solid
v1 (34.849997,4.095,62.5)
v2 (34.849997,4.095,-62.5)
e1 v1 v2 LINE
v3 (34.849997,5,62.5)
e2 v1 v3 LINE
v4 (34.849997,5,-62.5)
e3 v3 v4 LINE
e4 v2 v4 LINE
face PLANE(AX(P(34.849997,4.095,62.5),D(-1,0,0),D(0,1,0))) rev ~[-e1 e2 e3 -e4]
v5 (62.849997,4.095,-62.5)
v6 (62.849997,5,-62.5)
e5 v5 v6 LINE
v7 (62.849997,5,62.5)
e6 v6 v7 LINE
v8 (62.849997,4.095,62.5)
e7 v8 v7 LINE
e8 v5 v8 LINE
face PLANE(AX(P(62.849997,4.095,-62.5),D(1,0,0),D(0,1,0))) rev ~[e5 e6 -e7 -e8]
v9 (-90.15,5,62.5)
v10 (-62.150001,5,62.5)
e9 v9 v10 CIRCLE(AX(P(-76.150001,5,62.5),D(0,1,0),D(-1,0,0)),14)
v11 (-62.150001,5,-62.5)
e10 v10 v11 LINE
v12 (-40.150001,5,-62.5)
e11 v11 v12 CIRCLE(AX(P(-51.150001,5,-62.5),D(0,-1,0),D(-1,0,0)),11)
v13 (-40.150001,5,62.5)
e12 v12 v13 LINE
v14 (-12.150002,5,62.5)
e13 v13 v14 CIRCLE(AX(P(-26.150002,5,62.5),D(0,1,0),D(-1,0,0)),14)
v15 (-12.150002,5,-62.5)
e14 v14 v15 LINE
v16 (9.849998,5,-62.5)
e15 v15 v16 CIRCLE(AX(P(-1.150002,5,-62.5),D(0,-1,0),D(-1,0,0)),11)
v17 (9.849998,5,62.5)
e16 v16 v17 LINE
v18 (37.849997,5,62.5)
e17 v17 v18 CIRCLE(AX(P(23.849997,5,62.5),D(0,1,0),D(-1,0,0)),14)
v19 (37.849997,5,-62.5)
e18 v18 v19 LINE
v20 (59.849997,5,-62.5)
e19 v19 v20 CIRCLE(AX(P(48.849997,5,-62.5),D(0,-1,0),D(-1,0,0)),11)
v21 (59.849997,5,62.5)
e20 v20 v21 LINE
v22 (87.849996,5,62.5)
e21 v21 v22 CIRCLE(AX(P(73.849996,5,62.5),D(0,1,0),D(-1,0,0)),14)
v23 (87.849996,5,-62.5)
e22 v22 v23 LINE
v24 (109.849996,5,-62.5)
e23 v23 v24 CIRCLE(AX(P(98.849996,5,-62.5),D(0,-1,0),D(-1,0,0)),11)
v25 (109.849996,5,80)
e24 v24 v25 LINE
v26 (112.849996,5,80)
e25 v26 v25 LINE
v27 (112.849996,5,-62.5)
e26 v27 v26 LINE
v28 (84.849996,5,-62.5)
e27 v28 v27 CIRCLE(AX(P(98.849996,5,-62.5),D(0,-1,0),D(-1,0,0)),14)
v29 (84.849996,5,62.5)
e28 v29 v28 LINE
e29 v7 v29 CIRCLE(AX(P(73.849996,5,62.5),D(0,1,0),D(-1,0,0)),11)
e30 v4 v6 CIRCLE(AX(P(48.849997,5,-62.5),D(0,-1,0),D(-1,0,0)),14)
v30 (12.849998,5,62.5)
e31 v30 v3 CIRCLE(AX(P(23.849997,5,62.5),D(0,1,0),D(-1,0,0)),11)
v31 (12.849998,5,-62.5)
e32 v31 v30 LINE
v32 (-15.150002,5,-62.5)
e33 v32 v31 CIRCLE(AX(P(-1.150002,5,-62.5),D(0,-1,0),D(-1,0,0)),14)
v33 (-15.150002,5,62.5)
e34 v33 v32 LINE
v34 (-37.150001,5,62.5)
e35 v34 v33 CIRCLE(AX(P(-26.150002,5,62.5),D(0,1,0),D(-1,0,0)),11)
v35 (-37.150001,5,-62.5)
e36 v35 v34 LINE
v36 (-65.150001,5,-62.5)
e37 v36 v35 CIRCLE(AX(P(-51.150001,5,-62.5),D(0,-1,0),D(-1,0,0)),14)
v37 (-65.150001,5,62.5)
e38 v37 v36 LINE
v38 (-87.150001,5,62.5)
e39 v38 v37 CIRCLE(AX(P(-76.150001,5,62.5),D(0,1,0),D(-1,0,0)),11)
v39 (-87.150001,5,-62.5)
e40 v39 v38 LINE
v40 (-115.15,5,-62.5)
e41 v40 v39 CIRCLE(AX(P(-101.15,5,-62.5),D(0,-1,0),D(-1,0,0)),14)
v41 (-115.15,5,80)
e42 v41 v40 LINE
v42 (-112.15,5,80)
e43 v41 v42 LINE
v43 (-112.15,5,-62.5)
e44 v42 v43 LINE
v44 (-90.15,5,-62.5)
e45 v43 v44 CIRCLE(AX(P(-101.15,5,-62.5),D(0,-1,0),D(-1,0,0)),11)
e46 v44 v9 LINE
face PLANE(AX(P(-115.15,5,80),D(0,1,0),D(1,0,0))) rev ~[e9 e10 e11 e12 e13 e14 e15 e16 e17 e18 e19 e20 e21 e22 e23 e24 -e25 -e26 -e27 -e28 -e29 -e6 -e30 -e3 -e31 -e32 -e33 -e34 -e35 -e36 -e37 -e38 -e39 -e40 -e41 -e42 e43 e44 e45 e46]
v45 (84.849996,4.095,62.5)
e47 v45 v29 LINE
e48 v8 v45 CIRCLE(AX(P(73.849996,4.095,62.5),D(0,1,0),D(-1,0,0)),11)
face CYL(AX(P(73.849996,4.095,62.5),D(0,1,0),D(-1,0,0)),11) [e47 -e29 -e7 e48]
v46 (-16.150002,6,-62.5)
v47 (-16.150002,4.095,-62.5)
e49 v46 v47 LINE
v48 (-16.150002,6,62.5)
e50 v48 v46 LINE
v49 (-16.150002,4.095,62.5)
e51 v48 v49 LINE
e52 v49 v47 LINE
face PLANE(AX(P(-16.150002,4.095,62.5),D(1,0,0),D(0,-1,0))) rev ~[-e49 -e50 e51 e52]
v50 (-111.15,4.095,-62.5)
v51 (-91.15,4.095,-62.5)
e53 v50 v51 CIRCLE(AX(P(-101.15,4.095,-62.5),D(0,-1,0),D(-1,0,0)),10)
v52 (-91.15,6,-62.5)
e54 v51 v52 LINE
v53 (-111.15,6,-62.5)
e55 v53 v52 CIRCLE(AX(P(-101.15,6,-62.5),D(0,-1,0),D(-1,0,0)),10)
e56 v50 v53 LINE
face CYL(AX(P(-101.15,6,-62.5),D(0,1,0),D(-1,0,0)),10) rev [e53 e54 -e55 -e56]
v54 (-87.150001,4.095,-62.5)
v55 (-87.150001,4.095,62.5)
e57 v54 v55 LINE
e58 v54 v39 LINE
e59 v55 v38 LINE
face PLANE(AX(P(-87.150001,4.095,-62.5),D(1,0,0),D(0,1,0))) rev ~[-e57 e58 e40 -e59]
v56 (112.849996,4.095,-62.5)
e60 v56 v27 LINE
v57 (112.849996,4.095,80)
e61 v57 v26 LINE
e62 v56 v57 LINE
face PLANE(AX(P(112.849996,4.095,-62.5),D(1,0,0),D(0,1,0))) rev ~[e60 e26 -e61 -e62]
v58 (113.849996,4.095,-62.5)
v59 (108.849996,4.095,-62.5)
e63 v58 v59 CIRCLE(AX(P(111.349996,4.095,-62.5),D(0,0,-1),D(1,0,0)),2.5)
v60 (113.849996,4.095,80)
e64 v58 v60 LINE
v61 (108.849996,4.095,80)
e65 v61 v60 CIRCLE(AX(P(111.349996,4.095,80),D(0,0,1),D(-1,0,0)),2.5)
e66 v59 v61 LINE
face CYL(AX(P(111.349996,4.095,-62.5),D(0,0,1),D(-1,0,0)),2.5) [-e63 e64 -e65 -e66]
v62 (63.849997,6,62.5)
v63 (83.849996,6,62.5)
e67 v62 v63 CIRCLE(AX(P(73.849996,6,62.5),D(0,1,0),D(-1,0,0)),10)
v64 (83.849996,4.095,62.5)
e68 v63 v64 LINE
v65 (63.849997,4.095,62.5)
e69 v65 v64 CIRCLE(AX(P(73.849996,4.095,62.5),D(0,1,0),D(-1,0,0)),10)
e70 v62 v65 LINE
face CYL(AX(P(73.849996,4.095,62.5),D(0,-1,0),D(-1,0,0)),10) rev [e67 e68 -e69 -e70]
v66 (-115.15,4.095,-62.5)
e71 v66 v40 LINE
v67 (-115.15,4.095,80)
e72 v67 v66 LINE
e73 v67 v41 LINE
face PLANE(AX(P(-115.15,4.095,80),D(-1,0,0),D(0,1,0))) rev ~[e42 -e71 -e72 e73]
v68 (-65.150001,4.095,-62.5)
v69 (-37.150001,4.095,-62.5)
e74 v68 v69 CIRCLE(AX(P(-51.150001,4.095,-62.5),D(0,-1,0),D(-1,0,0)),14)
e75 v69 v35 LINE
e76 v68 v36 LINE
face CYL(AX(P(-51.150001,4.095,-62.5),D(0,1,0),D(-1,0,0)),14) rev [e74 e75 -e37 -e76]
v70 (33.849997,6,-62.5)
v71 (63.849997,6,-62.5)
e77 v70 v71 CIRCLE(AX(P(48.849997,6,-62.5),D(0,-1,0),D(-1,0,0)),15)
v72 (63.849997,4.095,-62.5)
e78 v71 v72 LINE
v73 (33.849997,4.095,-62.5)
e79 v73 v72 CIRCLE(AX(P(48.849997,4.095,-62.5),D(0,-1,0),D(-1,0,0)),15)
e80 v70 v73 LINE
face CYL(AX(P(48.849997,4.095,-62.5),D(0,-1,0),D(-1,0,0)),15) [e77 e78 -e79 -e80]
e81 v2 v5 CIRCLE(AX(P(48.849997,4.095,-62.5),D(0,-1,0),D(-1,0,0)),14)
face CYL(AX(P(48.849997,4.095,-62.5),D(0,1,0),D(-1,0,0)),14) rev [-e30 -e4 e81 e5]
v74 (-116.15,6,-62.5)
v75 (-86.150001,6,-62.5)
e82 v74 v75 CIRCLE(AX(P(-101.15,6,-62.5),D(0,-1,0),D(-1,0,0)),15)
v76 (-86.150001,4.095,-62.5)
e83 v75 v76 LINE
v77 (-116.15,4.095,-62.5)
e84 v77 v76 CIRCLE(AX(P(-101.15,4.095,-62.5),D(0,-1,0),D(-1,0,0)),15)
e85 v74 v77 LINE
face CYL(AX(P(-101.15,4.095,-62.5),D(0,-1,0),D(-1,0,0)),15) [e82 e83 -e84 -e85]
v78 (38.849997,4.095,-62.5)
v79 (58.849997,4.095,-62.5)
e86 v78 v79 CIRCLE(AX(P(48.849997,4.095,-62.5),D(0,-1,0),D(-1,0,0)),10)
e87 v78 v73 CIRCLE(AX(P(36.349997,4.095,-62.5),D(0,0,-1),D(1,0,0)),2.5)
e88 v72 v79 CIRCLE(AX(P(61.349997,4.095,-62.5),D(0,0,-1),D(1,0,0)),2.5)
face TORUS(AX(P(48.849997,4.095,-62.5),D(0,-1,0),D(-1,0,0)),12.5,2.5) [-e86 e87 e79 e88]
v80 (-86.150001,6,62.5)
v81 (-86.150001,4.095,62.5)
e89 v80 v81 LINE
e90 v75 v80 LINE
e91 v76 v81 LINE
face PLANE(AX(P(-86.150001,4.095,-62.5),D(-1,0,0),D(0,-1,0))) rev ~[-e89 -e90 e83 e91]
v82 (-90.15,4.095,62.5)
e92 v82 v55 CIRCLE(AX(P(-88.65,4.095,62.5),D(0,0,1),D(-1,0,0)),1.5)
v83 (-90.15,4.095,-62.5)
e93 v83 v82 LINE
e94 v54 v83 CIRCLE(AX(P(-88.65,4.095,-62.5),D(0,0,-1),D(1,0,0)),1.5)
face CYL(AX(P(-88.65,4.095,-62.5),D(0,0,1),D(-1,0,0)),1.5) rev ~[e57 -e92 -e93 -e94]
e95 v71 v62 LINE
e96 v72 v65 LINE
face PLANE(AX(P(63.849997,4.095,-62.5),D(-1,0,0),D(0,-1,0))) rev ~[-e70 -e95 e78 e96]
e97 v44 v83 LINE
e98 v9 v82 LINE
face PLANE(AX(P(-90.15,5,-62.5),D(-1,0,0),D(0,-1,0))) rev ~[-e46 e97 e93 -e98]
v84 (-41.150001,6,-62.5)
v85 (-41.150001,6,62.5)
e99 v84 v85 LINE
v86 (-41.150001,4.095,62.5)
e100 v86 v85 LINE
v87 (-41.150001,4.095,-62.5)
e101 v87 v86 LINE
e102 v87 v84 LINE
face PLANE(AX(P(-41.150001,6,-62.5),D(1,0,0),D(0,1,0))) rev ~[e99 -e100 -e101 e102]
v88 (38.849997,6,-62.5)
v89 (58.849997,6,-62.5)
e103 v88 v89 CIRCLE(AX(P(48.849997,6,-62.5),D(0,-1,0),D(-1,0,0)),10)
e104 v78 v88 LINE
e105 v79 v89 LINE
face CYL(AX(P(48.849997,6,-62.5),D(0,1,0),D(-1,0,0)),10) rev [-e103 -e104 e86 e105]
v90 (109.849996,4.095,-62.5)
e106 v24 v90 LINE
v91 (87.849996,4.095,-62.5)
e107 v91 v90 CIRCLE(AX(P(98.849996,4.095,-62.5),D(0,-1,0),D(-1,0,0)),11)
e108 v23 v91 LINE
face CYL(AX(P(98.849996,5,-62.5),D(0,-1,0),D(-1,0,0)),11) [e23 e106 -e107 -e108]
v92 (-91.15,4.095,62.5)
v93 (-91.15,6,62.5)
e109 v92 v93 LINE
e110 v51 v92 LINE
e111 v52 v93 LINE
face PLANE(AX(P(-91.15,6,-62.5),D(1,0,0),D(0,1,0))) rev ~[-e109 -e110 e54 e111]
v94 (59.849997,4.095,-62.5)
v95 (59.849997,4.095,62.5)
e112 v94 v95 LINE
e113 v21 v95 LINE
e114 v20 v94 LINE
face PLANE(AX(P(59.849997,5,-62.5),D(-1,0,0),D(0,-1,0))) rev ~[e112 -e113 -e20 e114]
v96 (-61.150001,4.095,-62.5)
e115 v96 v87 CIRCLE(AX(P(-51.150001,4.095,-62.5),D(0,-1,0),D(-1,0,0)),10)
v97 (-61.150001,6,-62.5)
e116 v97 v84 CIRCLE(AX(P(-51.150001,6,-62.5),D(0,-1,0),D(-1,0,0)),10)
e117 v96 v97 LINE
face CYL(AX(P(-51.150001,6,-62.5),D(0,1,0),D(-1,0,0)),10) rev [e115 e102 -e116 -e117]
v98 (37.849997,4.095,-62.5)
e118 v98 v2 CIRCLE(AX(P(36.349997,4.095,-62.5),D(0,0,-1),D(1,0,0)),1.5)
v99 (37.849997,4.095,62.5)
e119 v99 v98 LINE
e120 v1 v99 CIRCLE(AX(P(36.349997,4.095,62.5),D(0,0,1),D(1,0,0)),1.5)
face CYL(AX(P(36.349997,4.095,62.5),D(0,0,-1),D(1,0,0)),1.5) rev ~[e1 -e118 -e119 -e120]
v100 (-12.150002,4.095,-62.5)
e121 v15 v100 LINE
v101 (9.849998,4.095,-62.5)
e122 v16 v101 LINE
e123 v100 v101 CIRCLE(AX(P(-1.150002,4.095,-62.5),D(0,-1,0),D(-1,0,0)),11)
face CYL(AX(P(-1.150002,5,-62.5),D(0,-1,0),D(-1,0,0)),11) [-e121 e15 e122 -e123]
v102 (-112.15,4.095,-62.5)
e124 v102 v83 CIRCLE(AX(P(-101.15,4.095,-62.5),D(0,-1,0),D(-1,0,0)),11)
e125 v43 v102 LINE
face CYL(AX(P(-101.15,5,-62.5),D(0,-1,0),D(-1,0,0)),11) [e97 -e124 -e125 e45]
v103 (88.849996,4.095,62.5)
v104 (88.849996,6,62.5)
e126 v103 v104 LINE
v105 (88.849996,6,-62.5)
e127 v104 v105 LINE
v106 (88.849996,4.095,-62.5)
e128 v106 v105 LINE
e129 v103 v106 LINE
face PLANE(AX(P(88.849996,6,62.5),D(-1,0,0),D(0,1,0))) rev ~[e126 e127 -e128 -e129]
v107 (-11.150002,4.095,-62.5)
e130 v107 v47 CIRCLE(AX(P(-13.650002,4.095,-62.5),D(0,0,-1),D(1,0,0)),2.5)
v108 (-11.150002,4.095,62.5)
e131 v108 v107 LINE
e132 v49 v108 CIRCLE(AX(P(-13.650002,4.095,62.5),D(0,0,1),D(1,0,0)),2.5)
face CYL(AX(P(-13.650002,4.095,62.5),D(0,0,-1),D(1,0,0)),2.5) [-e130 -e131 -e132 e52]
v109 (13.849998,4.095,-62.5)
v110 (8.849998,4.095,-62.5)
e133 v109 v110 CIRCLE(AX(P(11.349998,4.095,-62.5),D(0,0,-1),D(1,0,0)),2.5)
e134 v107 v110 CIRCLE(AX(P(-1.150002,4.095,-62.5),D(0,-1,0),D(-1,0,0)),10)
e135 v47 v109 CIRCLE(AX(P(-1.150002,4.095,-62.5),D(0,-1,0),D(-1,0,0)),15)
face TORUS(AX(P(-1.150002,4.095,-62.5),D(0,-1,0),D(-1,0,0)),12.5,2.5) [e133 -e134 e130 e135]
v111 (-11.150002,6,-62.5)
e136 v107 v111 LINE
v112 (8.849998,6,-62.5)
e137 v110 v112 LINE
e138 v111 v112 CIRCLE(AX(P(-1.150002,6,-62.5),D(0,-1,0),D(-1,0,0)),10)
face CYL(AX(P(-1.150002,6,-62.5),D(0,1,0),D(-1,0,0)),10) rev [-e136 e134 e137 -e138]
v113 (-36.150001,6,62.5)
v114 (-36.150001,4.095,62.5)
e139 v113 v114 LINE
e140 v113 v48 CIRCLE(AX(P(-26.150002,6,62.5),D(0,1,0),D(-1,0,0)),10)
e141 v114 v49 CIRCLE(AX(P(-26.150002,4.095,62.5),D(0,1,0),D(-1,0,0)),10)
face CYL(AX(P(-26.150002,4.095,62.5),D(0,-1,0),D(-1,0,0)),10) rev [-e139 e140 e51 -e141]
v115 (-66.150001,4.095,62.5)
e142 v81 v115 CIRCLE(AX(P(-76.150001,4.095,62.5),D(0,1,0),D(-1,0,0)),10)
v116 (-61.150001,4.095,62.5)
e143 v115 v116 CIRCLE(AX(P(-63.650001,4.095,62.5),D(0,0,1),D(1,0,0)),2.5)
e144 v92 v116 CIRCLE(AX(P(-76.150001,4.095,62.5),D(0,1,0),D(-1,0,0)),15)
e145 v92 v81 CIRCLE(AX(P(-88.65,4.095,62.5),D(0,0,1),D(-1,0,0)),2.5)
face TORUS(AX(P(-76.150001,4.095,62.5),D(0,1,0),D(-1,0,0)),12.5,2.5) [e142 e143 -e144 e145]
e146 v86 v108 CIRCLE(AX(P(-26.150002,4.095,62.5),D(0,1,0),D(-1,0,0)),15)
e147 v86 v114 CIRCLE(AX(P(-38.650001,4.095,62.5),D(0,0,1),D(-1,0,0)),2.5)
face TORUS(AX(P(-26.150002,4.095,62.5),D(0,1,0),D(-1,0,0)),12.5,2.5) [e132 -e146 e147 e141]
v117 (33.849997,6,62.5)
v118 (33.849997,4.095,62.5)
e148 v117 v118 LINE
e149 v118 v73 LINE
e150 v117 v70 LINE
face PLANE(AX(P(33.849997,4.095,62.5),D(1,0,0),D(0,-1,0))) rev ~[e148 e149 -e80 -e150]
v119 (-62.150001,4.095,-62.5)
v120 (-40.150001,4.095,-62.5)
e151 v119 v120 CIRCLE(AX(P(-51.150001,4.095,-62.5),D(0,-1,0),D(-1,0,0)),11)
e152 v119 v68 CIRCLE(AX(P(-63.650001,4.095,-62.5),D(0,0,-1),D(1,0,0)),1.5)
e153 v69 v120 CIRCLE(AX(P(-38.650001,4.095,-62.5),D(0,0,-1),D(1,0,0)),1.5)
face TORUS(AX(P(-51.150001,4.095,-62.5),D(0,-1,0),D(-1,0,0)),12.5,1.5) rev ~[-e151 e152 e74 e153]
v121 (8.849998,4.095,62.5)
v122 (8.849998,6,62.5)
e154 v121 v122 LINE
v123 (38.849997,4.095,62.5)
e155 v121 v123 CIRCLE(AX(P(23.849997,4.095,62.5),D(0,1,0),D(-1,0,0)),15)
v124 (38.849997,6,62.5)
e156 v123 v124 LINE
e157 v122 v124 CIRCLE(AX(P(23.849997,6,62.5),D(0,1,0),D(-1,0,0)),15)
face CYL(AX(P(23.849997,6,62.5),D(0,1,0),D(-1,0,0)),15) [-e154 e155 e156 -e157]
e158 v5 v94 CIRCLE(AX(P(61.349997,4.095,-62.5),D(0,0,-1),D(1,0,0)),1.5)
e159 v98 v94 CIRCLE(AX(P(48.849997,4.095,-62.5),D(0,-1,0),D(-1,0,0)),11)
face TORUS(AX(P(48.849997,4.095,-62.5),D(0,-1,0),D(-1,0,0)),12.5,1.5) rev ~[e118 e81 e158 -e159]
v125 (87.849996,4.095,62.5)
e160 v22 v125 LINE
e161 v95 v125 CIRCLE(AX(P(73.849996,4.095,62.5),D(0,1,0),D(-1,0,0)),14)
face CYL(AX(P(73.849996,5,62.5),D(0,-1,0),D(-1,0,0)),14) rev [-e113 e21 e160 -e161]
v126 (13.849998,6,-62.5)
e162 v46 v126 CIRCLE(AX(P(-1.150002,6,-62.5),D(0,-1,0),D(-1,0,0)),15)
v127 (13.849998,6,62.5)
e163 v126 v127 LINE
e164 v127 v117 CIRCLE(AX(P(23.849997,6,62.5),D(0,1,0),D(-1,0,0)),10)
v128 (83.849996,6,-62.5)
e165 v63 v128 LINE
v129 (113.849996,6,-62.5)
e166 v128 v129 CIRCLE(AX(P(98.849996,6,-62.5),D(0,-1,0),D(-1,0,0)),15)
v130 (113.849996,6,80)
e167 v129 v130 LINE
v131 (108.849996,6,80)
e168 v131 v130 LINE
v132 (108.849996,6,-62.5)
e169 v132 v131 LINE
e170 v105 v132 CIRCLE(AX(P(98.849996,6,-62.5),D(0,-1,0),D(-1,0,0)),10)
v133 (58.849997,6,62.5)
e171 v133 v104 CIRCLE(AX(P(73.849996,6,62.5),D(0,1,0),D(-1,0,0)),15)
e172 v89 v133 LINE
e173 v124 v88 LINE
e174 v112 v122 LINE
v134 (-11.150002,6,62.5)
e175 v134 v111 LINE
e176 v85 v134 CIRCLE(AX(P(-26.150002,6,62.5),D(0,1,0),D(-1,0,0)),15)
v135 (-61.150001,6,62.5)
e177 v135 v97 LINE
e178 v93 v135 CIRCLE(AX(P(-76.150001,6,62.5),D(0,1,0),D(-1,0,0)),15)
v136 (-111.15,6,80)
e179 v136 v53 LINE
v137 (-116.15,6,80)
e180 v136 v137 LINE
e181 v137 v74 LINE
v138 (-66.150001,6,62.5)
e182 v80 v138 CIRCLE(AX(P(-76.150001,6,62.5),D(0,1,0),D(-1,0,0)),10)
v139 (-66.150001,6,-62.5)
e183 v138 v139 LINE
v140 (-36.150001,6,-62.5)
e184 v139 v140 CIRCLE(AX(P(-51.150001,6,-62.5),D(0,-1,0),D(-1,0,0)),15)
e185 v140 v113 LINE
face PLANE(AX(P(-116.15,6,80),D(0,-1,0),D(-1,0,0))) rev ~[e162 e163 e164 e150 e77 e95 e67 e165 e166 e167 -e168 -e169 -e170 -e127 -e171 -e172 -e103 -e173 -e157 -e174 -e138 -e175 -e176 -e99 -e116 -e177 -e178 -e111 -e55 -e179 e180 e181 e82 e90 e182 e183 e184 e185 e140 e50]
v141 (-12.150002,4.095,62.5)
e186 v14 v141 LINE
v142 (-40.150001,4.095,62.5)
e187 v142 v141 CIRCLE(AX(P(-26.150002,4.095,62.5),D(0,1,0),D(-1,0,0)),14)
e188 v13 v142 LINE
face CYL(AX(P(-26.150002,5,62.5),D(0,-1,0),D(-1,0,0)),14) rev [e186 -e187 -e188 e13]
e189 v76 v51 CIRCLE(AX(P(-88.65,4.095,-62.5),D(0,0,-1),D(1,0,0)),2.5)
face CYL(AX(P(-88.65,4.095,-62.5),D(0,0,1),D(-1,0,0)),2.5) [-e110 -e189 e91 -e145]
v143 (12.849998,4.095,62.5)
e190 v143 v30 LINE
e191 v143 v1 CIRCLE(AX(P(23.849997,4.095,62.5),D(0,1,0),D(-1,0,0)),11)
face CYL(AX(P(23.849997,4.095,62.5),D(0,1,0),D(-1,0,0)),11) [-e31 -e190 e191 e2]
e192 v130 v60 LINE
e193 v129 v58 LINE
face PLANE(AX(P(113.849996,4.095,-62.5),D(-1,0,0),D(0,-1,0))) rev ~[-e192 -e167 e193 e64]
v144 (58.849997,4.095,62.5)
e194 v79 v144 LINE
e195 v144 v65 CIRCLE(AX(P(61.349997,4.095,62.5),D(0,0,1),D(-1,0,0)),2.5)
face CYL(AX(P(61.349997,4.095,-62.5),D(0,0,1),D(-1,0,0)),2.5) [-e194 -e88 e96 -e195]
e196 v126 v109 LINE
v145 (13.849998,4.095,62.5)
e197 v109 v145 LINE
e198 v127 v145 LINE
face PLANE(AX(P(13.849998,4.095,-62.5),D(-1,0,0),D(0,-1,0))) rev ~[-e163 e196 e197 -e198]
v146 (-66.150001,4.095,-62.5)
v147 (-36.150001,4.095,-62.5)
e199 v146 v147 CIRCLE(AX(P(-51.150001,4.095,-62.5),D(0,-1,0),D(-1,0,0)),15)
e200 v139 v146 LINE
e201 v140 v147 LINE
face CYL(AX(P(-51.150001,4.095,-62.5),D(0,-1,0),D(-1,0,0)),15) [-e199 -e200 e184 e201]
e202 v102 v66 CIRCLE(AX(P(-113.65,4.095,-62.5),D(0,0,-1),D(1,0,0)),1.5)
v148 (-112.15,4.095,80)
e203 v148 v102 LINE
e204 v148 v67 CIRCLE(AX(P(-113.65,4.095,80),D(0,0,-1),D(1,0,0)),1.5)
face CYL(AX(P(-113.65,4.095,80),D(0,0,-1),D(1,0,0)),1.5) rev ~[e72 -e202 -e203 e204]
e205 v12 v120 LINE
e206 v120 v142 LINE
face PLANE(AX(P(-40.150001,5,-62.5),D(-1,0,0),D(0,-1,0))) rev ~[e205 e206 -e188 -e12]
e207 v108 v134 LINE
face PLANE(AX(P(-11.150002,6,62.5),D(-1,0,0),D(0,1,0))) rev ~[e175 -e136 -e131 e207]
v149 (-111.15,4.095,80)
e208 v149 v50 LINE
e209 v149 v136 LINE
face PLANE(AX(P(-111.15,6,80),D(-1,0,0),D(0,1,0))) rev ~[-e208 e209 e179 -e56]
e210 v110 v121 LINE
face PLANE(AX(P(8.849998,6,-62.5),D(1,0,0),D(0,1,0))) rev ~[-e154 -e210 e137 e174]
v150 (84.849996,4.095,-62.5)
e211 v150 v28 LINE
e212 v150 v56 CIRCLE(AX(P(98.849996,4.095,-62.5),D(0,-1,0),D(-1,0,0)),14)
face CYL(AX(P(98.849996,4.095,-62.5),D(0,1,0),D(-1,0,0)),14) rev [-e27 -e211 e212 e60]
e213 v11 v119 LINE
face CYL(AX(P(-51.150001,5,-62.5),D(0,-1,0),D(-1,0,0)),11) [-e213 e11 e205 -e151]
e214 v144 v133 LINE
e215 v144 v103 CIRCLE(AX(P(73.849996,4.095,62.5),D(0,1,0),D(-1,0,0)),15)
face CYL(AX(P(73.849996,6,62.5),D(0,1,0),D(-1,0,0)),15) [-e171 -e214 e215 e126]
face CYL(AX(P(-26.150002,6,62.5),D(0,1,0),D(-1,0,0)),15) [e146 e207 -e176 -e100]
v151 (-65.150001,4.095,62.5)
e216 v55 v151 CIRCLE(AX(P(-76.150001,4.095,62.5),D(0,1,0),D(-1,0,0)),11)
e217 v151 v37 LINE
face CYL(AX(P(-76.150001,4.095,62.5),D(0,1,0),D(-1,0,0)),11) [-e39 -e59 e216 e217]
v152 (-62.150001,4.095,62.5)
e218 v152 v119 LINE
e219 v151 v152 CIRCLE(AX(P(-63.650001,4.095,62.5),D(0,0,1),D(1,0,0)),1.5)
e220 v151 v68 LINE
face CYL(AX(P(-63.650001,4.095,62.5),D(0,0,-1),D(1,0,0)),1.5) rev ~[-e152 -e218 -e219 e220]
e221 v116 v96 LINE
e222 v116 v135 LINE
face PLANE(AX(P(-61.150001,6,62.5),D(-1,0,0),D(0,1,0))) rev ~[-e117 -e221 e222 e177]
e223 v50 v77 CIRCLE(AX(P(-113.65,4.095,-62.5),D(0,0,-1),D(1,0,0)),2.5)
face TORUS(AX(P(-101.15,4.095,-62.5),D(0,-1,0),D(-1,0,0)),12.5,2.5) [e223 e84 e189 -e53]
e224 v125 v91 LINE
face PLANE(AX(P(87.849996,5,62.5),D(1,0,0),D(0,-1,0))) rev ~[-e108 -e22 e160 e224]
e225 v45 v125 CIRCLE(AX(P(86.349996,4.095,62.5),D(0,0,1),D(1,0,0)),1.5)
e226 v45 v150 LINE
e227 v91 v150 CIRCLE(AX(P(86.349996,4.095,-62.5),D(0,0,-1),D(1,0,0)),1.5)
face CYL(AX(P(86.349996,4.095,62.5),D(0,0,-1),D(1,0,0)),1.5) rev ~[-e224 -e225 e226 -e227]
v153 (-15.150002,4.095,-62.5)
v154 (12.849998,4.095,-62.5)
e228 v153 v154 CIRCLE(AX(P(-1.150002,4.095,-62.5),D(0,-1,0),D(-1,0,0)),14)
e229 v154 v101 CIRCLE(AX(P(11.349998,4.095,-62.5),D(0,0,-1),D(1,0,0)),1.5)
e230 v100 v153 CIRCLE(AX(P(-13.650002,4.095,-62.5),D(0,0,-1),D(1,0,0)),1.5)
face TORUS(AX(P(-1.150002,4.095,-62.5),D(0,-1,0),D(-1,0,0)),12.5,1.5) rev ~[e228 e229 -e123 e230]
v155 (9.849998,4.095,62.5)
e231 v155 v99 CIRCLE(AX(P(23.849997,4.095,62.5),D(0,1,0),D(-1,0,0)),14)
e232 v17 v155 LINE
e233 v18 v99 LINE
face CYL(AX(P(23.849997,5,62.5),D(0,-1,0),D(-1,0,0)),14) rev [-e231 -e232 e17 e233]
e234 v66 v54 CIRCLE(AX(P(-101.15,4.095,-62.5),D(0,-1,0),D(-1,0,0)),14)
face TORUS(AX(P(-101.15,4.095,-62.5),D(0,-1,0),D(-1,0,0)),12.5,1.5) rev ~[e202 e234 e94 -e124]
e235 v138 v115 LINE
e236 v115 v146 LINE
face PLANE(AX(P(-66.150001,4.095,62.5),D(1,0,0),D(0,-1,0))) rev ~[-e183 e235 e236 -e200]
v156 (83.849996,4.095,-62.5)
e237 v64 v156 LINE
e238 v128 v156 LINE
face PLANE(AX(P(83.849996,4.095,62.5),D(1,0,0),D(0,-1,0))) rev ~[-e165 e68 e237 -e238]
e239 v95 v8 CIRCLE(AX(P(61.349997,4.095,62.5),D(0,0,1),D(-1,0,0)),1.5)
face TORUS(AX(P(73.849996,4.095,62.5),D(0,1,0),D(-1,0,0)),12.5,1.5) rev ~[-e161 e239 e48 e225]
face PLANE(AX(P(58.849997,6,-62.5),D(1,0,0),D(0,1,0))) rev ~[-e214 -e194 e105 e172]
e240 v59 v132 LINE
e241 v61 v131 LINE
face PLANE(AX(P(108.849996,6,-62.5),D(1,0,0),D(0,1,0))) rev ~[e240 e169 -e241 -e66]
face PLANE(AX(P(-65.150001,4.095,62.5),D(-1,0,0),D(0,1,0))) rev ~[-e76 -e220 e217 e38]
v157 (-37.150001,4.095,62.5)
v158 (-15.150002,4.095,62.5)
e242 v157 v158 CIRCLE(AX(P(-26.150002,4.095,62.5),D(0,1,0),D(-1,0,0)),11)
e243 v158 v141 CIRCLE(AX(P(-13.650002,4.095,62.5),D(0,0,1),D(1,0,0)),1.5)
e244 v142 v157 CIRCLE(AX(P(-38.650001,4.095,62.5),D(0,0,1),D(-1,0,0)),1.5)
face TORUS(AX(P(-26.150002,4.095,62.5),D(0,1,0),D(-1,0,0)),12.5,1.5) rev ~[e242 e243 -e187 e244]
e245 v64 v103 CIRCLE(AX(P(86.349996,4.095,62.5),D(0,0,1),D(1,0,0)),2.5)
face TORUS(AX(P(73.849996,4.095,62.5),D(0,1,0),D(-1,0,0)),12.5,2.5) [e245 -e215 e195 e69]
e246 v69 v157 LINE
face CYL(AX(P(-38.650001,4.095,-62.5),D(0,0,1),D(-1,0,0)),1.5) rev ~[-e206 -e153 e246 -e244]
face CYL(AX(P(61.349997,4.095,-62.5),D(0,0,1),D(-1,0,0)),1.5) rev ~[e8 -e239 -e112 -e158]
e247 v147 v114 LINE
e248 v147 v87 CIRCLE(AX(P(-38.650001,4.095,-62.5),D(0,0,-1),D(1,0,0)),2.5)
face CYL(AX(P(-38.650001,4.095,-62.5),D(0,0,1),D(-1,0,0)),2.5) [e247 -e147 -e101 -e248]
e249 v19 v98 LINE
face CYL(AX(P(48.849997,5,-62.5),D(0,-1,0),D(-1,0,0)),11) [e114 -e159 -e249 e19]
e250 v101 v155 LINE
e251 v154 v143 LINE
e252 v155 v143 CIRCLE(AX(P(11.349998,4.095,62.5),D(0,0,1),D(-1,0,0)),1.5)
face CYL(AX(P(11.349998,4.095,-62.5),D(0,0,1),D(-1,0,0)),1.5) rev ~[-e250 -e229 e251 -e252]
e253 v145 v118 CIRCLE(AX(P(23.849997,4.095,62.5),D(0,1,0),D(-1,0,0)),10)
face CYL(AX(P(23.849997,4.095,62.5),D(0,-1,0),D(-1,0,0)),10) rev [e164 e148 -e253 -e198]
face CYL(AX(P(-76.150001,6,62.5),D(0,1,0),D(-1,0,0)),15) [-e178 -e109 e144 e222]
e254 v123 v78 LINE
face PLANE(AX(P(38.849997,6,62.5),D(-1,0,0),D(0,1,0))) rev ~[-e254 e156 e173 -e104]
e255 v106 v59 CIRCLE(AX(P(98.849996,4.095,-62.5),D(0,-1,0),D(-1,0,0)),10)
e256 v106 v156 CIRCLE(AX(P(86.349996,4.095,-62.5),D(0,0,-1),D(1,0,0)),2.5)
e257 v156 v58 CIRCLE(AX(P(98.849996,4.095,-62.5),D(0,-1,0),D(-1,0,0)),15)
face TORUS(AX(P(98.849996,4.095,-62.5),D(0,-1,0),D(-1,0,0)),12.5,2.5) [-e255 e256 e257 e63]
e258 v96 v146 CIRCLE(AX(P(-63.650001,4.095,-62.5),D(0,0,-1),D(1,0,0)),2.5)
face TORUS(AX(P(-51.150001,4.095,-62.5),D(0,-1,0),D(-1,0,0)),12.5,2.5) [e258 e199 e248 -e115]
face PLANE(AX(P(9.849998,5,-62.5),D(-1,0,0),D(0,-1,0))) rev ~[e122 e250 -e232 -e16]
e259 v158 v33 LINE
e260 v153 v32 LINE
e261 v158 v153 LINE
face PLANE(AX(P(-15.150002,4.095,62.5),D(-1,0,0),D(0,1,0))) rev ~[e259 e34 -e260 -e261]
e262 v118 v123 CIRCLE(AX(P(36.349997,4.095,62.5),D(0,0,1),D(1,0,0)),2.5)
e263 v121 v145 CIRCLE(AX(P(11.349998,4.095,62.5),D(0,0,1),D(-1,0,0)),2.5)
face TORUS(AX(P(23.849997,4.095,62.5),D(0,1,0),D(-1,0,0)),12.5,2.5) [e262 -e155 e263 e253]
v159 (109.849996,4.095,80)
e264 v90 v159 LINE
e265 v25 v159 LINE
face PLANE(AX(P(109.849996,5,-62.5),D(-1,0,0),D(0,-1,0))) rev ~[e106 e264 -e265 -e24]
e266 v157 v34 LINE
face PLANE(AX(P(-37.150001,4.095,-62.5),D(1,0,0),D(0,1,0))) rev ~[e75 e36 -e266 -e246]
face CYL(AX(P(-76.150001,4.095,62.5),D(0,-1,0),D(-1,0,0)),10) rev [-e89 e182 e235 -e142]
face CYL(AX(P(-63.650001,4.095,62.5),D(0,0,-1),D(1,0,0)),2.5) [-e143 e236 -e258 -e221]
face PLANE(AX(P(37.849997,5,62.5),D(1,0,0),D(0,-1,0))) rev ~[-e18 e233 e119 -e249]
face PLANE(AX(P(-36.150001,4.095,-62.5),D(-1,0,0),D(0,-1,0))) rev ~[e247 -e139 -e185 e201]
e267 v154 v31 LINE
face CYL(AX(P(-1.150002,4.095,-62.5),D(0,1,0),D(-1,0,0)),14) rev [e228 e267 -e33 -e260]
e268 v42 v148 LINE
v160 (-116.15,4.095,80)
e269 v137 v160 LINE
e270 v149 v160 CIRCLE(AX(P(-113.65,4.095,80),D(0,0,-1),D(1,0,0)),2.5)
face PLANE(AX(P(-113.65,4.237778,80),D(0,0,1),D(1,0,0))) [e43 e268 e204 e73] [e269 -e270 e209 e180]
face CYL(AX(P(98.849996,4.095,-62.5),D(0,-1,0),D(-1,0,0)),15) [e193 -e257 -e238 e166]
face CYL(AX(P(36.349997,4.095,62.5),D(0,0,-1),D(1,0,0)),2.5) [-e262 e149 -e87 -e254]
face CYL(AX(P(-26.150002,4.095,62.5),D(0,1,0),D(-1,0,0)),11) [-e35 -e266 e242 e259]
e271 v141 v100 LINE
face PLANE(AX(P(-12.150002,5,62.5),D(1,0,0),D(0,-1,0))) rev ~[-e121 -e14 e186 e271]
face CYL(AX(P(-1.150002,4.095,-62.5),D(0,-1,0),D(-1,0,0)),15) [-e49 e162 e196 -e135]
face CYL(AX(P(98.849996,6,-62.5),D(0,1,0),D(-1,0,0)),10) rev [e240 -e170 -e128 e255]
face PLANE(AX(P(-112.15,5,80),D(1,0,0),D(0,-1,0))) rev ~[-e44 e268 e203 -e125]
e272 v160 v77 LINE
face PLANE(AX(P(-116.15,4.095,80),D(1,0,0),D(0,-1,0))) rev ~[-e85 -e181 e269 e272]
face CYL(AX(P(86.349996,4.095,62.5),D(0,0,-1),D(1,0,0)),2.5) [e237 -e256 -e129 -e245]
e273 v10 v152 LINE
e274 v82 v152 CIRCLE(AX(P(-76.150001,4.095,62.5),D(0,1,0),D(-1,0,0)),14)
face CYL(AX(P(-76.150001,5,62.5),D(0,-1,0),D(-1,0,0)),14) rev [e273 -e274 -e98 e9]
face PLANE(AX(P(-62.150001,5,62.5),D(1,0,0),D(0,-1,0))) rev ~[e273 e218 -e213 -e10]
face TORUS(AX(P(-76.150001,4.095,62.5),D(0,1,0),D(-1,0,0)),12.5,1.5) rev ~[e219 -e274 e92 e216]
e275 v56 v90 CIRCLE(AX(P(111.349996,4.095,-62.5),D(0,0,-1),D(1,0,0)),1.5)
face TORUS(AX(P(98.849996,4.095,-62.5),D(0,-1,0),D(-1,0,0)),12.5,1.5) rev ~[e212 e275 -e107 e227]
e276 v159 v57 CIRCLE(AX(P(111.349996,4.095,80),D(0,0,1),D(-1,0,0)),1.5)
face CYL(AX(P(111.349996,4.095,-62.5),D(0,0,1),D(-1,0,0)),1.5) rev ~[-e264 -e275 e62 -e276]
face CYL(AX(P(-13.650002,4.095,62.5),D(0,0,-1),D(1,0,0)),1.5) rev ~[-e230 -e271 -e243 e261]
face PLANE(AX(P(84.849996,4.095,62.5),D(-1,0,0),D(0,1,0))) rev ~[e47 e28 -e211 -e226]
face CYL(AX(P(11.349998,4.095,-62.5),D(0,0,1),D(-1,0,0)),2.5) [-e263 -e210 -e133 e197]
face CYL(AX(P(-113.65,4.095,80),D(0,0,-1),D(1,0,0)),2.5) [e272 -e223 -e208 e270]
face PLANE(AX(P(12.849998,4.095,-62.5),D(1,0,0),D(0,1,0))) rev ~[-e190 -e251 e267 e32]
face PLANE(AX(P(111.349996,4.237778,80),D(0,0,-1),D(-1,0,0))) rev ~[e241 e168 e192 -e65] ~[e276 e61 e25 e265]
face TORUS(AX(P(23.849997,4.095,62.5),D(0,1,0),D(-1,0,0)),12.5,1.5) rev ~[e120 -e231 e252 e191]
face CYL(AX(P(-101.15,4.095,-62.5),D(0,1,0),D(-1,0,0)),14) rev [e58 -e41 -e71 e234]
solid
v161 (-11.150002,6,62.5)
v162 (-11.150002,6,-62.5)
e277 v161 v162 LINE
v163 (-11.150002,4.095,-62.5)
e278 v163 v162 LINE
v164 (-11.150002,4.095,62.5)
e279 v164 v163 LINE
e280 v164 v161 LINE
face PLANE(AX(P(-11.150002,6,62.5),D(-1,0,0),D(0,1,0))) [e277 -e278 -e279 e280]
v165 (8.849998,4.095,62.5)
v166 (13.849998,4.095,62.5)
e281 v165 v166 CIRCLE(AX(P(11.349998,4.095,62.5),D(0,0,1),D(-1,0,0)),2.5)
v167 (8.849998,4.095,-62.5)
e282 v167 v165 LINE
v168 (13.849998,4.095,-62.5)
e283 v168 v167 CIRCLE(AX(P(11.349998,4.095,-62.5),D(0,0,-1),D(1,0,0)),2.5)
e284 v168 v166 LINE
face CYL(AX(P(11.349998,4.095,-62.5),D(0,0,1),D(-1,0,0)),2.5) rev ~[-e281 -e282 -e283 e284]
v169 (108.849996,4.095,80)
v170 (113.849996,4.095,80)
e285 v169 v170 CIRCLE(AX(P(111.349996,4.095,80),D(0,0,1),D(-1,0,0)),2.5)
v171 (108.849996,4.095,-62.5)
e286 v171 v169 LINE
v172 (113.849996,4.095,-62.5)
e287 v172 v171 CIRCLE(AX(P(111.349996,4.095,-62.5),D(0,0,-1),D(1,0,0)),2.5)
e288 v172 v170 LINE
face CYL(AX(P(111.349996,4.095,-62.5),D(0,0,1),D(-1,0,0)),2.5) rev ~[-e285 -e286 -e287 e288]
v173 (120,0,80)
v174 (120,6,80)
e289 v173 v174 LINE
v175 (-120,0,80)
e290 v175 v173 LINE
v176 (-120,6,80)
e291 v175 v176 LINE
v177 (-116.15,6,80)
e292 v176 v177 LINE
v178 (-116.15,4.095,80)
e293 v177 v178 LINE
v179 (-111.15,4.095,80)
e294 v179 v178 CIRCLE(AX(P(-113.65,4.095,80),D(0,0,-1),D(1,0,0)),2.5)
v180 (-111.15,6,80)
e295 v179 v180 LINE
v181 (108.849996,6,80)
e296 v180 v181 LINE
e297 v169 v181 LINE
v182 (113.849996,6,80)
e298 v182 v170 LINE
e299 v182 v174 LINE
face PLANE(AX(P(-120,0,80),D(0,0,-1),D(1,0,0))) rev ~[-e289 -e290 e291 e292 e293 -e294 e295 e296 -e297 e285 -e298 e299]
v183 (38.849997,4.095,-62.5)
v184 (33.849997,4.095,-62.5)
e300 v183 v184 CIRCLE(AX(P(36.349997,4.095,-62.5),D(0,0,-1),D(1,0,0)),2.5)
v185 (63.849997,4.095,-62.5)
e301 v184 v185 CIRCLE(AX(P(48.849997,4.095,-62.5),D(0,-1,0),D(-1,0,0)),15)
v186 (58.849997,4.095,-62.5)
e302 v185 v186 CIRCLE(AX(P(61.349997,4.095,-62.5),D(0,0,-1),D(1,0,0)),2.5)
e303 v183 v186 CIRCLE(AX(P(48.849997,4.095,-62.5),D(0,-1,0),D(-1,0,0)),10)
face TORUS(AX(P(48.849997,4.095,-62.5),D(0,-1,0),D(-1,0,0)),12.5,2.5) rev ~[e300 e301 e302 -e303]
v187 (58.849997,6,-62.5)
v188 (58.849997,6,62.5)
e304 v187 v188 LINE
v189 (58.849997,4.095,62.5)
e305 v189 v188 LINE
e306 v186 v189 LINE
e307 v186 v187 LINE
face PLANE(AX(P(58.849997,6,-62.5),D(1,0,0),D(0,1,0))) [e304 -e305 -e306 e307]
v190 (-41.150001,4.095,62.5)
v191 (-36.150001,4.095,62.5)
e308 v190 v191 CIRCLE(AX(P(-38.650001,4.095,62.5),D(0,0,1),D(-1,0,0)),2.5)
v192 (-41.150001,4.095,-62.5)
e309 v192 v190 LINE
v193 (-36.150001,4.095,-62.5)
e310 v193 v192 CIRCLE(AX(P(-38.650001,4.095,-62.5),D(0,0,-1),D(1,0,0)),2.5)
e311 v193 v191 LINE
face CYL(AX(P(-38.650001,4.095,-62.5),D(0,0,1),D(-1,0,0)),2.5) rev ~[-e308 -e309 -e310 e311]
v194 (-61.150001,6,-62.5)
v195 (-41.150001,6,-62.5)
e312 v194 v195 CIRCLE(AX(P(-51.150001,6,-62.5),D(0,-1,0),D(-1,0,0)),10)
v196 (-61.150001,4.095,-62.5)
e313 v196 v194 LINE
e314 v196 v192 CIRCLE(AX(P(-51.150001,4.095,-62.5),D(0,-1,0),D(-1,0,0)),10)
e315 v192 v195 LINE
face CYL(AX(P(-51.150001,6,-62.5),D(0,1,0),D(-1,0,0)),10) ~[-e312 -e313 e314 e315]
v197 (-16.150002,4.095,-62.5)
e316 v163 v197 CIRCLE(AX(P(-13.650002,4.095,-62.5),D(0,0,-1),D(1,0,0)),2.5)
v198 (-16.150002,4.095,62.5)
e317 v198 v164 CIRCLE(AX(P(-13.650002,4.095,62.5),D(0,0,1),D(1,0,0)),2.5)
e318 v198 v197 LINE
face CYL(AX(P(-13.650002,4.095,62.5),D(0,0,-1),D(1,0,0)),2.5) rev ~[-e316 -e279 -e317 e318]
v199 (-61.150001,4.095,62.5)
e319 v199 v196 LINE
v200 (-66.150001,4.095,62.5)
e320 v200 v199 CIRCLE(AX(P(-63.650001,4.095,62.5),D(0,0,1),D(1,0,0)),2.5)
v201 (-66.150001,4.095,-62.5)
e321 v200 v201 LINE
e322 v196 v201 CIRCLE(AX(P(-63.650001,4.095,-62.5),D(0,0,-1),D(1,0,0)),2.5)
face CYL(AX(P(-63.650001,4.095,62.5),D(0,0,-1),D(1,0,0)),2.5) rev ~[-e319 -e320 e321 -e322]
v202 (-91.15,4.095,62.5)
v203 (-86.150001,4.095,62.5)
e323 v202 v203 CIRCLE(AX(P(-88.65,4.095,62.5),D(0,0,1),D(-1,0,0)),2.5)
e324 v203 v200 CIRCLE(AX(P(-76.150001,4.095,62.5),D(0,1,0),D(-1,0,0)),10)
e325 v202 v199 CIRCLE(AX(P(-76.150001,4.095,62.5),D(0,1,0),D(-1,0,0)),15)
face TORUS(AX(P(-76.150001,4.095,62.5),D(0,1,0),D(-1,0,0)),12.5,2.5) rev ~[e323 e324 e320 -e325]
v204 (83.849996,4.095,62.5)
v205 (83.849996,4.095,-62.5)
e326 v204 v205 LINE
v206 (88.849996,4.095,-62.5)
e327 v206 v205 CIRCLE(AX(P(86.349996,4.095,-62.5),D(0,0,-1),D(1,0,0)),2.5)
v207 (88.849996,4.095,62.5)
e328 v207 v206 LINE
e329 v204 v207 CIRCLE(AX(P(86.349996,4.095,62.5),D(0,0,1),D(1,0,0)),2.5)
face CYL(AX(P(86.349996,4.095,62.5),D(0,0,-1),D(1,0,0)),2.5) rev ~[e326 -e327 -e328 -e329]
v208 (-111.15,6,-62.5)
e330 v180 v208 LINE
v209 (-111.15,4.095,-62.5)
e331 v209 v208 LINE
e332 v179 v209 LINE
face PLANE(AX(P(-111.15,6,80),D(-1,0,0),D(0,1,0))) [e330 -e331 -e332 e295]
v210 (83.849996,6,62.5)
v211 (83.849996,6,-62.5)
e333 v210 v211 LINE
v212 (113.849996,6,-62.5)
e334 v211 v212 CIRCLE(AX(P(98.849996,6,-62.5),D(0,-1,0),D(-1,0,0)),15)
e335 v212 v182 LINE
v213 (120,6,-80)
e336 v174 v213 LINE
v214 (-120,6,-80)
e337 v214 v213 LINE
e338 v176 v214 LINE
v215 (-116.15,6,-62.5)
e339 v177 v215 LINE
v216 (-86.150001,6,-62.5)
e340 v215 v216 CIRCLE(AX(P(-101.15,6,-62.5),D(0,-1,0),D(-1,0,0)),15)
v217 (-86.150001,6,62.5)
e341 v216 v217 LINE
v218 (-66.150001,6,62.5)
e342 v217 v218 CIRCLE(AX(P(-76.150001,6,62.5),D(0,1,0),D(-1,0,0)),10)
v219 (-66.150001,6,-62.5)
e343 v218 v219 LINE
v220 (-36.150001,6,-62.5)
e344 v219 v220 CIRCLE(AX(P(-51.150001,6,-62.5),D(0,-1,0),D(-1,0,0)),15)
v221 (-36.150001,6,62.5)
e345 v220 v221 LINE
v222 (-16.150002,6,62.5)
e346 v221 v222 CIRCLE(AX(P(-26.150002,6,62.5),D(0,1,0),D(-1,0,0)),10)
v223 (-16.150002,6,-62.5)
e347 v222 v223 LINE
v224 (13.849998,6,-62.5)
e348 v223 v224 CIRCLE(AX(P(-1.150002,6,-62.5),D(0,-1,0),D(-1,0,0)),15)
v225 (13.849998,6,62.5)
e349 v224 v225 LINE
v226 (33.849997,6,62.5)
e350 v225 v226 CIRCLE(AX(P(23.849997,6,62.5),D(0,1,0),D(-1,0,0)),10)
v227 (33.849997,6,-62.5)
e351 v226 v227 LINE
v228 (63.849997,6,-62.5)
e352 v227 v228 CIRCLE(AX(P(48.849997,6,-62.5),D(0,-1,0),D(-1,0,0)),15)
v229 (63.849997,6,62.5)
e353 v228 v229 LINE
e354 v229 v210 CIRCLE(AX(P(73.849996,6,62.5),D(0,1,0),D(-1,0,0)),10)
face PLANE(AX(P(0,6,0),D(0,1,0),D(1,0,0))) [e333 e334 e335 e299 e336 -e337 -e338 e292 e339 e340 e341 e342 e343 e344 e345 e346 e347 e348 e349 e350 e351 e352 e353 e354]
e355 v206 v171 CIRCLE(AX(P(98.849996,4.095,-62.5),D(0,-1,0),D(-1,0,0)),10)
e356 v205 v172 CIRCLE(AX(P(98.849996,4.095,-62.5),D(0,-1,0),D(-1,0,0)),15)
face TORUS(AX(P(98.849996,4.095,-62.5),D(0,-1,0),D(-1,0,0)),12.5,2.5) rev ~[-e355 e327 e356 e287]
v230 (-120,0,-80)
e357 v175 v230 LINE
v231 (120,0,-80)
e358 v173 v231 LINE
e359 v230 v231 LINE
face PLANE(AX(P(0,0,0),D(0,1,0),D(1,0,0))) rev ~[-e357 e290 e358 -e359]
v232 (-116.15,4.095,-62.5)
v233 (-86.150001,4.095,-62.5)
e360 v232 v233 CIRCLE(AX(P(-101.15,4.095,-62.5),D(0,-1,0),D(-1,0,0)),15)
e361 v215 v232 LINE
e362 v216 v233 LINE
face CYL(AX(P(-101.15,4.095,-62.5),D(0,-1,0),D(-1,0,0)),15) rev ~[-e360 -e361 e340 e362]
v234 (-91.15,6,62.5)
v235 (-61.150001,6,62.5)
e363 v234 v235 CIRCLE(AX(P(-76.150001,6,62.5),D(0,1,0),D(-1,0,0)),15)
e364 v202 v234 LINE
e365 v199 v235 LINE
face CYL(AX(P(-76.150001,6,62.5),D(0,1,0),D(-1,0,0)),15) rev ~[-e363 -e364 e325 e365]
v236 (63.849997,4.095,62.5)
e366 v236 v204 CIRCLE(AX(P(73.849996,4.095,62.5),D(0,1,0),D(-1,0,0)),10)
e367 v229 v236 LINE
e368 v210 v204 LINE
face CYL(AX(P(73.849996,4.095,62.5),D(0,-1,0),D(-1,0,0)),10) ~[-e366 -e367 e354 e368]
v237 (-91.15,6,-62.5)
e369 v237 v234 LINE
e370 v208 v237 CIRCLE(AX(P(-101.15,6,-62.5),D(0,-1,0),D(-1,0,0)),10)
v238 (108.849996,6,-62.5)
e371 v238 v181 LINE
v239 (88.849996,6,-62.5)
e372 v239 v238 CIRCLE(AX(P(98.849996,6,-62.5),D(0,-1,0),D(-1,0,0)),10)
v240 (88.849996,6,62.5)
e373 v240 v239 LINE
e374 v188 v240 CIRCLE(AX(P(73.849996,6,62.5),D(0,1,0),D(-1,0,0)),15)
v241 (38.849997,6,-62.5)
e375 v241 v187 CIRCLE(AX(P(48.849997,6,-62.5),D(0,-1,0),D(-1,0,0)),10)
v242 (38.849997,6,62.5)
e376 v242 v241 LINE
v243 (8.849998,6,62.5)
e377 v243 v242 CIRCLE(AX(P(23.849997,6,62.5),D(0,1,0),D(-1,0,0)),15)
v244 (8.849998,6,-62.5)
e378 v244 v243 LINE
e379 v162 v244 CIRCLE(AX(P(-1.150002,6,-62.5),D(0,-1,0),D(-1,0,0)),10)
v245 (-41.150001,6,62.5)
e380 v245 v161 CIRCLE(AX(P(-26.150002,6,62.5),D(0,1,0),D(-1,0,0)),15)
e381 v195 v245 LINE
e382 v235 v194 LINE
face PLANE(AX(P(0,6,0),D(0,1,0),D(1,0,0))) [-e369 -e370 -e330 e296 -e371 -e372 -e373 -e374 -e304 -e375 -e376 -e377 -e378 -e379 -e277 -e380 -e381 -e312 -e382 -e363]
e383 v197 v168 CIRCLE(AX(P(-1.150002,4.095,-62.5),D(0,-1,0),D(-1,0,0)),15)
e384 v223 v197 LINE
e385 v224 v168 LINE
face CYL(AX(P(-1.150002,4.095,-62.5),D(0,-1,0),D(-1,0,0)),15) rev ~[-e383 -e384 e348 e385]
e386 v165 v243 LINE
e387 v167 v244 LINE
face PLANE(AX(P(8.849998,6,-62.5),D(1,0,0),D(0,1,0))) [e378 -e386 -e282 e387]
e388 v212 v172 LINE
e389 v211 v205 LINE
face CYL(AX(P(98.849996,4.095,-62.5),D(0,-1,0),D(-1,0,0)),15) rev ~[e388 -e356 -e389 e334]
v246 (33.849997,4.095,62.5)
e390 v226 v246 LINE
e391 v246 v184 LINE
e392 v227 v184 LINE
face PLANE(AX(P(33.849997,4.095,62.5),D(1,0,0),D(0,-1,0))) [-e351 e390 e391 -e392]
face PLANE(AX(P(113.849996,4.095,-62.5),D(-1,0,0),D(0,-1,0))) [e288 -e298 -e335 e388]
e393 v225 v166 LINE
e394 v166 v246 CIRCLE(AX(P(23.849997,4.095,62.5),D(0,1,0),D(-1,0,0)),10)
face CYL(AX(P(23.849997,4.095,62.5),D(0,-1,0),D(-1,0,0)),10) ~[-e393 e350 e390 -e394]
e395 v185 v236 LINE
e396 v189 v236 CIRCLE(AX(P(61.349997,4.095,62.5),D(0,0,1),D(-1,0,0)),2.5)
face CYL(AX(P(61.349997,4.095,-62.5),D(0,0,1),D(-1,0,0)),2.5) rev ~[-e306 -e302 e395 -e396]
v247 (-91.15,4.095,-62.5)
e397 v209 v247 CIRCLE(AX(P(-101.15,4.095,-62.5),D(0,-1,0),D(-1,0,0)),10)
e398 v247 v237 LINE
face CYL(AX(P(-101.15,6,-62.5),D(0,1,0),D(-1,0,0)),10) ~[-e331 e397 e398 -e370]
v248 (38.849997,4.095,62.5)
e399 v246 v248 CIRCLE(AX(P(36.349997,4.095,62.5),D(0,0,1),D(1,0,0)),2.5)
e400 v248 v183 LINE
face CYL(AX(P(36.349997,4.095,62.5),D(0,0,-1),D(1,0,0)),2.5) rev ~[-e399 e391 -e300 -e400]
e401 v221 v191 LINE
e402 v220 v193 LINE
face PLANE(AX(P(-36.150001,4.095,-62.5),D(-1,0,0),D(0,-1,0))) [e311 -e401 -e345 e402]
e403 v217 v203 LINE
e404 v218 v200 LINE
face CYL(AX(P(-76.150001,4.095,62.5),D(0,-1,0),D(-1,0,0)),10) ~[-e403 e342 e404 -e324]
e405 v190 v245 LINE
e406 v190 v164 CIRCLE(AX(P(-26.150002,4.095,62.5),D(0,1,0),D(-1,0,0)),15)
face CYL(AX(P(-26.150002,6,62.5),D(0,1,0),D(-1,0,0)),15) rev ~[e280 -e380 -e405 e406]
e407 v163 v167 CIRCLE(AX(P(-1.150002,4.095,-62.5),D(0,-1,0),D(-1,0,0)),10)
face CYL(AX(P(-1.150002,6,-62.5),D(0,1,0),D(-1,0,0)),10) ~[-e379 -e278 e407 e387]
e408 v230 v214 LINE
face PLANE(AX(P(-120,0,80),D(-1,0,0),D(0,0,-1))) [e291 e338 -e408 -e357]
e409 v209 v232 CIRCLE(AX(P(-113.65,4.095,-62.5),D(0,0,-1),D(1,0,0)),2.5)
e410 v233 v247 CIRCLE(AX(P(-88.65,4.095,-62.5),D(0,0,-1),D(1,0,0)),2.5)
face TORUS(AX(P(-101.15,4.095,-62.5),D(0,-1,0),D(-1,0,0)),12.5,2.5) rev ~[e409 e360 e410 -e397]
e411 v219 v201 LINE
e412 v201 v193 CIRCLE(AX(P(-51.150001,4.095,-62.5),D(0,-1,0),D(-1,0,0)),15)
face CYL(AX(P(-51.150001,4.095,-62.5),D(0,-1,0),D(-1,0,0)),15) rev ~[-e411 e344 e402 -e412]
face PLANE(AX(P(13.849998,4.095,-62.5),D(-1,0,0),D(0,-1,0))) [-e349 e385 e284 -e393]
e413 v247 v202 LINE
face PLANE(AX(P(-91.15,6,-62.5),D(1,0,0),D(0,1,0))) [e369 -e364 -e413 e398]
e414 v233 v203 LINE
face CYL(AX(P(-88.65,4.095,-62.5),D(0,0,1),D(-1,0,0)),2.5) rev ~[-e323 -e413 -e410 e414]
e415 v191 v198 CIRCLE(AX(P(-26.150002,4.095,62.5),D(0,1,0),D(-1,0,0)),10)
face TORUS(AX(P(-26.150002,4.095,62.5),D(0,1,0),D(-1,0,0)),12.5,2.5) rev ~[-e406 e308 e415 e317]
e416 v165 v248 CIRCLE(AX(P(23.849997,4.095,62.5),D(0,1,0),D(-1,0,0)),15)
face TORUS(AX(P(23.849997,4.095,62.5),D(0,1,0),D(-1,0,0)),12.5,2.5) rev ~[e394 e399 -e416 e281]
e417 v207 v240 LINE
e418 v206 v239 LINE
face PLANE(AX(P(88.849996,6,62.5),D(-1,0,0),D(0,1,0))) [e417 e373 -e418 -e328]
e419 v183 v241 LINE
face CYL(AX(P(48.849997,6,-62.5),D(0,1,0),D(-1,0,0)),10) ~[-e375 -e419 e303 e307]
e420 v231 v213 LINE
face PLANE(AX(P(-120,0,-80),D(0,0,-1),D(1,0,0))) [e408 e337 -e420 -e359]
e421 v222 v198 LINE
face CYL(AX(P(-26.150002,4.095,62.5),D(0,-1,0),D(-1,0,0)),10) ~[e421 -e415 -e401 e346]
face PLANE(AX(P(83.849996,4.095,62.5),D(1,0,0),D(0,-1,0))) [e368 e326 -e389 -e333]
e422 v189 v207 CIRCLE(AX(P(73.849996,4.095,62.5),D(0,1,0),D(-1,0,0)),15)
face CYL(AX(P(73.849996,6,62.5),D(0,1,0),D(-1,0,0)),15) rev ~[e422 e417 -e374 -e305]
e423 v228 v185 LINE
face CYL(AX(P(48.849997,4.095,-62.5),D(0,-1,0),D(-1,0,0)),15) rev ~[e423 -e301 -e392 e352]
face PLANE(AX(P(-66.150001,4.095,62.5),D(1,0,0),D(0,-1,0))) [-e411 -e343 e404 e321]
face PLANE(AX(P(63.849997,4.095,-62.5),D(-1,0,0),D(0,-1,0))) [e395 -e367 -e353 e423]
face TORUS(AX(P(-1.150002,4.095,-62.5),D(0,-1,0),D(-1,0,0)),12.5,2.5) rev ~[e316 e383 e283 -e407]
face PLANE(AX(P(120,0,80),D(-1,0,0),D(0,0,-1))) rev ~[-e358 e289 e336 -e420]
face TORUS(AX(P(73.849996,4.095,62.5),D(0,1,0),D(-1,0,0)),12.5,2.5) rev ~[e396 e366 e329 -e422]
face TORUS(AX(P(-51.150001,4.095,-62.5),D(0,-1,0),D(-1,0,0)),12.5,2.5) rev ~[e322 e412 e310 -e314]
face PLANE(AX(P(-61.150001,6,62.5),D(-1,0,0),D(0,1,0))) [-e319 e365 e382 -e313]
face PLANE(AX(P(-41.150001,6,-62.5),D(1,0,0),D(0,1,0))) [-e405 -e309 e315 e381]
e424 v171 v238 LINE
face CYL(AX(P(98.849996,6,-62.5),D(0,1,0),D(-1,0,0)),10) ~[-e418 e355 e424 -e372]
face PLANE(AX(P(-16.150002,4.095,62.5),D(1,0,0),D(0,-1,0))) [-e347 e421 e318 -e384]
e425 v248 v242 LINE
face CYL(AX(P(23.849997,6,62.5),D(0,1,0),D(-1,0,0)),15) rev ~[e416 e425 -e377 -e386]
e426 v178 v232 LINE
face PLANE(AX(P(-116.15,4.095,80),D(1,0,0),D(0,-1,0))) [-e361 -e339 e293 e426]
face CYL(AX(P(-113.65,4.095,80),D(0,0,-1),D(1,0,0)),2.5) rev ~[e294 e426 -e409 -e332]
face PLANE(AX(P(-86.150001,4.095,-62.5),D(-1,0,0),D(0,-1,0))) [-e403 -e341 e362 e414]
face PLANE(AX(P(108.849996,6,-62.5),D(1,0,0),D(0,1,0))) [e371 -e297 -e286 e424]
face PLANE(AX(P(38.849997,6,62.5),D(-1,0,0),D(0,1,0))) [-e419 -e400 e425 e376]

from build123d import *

# Parameters (mm, degrees)
SKETCH1_W        = 240
SKETCH1_H        = 160
BASE_PLATE_DEPTH = 6


with BuildPart() as part:
    # Sketch1 → Base Plate (new body)
    with BuildSketch(Plane(origin=(0, 0, 0), x_dir=(1, 0, 0), z_dir=(0, 1, 0))):
        Rectangle(SKETCH1_W, SKETCH1_H)
    extrude(amount=BASE_PLATE_DEPTH)

    # Tube Channel: sweep along a path in Sketch5
    with BuildLine(Plane(origin=(0, 6, 0), x_dir=(1, 0, 0), z_dir=(0, 1, 0))) as tube_channel_path:
        Line((-113.65, -80), (-113.65, 62.500000235))
        ThreePointArc((-113.65, 62.500000235), (-101.150000235, 75), (-88.65000047, 62.500000235))
        Line((-88.65000047, 62.500000235), (-88.65000047, -62.500000235))
        ThreePointArc((-88.65000047, -62.500000235), (-76.150000705, -75), (-63.65000094, -62.500000235))
        Line((-63.65000094, -62.500000235), (-63.65000094, 62.500000235))
        ThreePointArc((-63.65000094, 62.500000235), (-51.150001175, 75), (-38.65000141, 62.500000235))
        Line((-38.65000141, 62.500000235), (-38.65000141, -62.500000235))
        ThreePointArc((-38.65000141, -62.500000235), (-26.150001645, -75), (-13.65000188, -62.500000235))
        Line((-13.65000188, -62.500000235), (-13.65000188, 62.500000235))
        ThreePointArc((-13.65000188, 62.500000235), (-1.150002115, 75), (11.34999765, 62.500000235))
        Line((11.34999765, 62.500000235), (11.34999765, -62.500000235))
        ThreePointArc((11.34999765, -62.500000235), (23.849997415, -75), (36.34999718, -62.500000235))
        Line((36.34999718, -62.500000235), (36.34999718, 62.500000235))
        ThreePointArc((36.34999718, 62.500000235), (48.849996945, 75), (61.34999671, 62.500000235))
        Line((61.34999671, 62.500000235), (61.34999671, -62.500000235))
        ThreePointArc((61.34999671, -62.500000235), (73.849996475, -75), (86.34999624, -62.500000235))
        Line((86.34999624, -62.500000235), (86.34999624, 62.500000235))
        ThreePointArc((86.34999624, 62.500000235), (98.849996005, 75), (111.34999577, 62.500000235))
        Line((111.34999577, 62.500000235), (111.34999577, -80))
    # Sketch6 → Tube Channel (sweep, cut)
    with BuildSketch(Plane.XY.offset(80)):
        with BuildLine():
            Line((-116.149999953, 4.095), (-116.149999953, 6))
            Line((-116.149999953, 6), (-111.150000047, 6))
            Line((-111.150000047, 6), (-111.150000047, 4.095))
            ThreePointArc((-111.150000047, 4.095), (-113.65, 1.595000047), (-116.149999953, 4.095))
        make_face()
    sweep(path=tube_channel_path.line, mode=Mode.SUBTRACT)


with BuildPart() as body_2:
    # Tubing: sweep along a path in Sketch5<3>
    with BuildLine(Plane(origin=(0, 6, 0), x_dir=(1, 0, 0), z_dir=(0, 1, 0))) as tubing_path:
        Line((-113.65, -80), (-113.65, 62.500000235))
        ThreePointArc((-113.65, 62.500000235), (-101.150000235, 75), (-88.65000047, 62.500000235))
        Line((-88.65000047, 62.500000235), (-88.65000047, -62.500000235))
        ThreePointArc((-88.65000047, -62.500000235), (-76.150000705, -75), (-63.65000094, -62.500000235))
        Line((-63.65000094, -62.500000235), (-63.65000094, 62.500000235))
        ThreePointArc((-63.65000094, 62.500000235), (-51.150001175, 75), (-38.65000141, 62.500000235))
        Line((-38.65000141, 62.500000235), (-38.65000141, -62.500000235))
        ThreePointArc((-38.65000141, -62.500000235), (-26.150001645, -75), (-13.65000188, -62.500000235))
        Line((-13.65000188, -62.500000235), (-13.65000188, 62.500000235))
        ThreePointArc((-13.65000188, 62.500000235), (-1.150002115, 75), (11.34999765, 62.500000235))
        Line((11.34999765, 62.500000235), (11.34999765, -62.500000235))
        ThreePointArc((11.34999765, -62.500000235), (23.849997415, -75), (36.34999718, -62.500000235))
        Line((36.34999718, -62.500000235), (36.34999718, 62.500000235))
        ThreePointArc((36.34999718, 62.500000235), (48.849996945, 75), (61.34999671, 62.500000235))
        Line((61.34999671, 62.500000235), (61.34999671, -62.500000235))
        ThreePointArc((61.34999671, -62.500000235), (73.849996475, -75), (86.34999624, -62.500000235))
        Line((86.34999624, -62.500000235), (86.34999624, 62.500000235))
        ThreePointArc((86.34999624, 62.500000235), (98.849996005, 75), (111.34999577, 62.500000235))
        Line((111.34999577, 62.500000235), (111.34999577, -80))
    # Sketch7 → Tubing (sweep)
    with BuildSketch(Plane.XY.offset(80)):
        with BuildLine():
            Line((-116.149999953, 4.095), (-116.149999953, 6))
            Line((-116.149999953, 6), (-111.150000047, 6))
            Line((-111.150000047, 6), (-111.150000047, 4.095))
            ThreePointArc((-111.150000047, 4.095), (-113.65, 1.595000047), (-116.149999953, 4.095))
        make_face()
        with BuildLine():
            Line((-115.149999921, 4.095), (-115.149999921, 4.999999968))
            Line((-115.149999921, 4.999999968), (-112.150000079, 4.999999968))
            Line((-112.150000079, 4.999999968), (-112.150000079, 4.095))
            ThreePointArc((-112.150000079, 4.095), (-113.65, 2.595000079), (-115.149999921, 4.095))
        make_face(mode=Mode.SUBTRACT)
    sweep(path=tubing_path.line)


solid = Compound([part.part, body_2.part])
